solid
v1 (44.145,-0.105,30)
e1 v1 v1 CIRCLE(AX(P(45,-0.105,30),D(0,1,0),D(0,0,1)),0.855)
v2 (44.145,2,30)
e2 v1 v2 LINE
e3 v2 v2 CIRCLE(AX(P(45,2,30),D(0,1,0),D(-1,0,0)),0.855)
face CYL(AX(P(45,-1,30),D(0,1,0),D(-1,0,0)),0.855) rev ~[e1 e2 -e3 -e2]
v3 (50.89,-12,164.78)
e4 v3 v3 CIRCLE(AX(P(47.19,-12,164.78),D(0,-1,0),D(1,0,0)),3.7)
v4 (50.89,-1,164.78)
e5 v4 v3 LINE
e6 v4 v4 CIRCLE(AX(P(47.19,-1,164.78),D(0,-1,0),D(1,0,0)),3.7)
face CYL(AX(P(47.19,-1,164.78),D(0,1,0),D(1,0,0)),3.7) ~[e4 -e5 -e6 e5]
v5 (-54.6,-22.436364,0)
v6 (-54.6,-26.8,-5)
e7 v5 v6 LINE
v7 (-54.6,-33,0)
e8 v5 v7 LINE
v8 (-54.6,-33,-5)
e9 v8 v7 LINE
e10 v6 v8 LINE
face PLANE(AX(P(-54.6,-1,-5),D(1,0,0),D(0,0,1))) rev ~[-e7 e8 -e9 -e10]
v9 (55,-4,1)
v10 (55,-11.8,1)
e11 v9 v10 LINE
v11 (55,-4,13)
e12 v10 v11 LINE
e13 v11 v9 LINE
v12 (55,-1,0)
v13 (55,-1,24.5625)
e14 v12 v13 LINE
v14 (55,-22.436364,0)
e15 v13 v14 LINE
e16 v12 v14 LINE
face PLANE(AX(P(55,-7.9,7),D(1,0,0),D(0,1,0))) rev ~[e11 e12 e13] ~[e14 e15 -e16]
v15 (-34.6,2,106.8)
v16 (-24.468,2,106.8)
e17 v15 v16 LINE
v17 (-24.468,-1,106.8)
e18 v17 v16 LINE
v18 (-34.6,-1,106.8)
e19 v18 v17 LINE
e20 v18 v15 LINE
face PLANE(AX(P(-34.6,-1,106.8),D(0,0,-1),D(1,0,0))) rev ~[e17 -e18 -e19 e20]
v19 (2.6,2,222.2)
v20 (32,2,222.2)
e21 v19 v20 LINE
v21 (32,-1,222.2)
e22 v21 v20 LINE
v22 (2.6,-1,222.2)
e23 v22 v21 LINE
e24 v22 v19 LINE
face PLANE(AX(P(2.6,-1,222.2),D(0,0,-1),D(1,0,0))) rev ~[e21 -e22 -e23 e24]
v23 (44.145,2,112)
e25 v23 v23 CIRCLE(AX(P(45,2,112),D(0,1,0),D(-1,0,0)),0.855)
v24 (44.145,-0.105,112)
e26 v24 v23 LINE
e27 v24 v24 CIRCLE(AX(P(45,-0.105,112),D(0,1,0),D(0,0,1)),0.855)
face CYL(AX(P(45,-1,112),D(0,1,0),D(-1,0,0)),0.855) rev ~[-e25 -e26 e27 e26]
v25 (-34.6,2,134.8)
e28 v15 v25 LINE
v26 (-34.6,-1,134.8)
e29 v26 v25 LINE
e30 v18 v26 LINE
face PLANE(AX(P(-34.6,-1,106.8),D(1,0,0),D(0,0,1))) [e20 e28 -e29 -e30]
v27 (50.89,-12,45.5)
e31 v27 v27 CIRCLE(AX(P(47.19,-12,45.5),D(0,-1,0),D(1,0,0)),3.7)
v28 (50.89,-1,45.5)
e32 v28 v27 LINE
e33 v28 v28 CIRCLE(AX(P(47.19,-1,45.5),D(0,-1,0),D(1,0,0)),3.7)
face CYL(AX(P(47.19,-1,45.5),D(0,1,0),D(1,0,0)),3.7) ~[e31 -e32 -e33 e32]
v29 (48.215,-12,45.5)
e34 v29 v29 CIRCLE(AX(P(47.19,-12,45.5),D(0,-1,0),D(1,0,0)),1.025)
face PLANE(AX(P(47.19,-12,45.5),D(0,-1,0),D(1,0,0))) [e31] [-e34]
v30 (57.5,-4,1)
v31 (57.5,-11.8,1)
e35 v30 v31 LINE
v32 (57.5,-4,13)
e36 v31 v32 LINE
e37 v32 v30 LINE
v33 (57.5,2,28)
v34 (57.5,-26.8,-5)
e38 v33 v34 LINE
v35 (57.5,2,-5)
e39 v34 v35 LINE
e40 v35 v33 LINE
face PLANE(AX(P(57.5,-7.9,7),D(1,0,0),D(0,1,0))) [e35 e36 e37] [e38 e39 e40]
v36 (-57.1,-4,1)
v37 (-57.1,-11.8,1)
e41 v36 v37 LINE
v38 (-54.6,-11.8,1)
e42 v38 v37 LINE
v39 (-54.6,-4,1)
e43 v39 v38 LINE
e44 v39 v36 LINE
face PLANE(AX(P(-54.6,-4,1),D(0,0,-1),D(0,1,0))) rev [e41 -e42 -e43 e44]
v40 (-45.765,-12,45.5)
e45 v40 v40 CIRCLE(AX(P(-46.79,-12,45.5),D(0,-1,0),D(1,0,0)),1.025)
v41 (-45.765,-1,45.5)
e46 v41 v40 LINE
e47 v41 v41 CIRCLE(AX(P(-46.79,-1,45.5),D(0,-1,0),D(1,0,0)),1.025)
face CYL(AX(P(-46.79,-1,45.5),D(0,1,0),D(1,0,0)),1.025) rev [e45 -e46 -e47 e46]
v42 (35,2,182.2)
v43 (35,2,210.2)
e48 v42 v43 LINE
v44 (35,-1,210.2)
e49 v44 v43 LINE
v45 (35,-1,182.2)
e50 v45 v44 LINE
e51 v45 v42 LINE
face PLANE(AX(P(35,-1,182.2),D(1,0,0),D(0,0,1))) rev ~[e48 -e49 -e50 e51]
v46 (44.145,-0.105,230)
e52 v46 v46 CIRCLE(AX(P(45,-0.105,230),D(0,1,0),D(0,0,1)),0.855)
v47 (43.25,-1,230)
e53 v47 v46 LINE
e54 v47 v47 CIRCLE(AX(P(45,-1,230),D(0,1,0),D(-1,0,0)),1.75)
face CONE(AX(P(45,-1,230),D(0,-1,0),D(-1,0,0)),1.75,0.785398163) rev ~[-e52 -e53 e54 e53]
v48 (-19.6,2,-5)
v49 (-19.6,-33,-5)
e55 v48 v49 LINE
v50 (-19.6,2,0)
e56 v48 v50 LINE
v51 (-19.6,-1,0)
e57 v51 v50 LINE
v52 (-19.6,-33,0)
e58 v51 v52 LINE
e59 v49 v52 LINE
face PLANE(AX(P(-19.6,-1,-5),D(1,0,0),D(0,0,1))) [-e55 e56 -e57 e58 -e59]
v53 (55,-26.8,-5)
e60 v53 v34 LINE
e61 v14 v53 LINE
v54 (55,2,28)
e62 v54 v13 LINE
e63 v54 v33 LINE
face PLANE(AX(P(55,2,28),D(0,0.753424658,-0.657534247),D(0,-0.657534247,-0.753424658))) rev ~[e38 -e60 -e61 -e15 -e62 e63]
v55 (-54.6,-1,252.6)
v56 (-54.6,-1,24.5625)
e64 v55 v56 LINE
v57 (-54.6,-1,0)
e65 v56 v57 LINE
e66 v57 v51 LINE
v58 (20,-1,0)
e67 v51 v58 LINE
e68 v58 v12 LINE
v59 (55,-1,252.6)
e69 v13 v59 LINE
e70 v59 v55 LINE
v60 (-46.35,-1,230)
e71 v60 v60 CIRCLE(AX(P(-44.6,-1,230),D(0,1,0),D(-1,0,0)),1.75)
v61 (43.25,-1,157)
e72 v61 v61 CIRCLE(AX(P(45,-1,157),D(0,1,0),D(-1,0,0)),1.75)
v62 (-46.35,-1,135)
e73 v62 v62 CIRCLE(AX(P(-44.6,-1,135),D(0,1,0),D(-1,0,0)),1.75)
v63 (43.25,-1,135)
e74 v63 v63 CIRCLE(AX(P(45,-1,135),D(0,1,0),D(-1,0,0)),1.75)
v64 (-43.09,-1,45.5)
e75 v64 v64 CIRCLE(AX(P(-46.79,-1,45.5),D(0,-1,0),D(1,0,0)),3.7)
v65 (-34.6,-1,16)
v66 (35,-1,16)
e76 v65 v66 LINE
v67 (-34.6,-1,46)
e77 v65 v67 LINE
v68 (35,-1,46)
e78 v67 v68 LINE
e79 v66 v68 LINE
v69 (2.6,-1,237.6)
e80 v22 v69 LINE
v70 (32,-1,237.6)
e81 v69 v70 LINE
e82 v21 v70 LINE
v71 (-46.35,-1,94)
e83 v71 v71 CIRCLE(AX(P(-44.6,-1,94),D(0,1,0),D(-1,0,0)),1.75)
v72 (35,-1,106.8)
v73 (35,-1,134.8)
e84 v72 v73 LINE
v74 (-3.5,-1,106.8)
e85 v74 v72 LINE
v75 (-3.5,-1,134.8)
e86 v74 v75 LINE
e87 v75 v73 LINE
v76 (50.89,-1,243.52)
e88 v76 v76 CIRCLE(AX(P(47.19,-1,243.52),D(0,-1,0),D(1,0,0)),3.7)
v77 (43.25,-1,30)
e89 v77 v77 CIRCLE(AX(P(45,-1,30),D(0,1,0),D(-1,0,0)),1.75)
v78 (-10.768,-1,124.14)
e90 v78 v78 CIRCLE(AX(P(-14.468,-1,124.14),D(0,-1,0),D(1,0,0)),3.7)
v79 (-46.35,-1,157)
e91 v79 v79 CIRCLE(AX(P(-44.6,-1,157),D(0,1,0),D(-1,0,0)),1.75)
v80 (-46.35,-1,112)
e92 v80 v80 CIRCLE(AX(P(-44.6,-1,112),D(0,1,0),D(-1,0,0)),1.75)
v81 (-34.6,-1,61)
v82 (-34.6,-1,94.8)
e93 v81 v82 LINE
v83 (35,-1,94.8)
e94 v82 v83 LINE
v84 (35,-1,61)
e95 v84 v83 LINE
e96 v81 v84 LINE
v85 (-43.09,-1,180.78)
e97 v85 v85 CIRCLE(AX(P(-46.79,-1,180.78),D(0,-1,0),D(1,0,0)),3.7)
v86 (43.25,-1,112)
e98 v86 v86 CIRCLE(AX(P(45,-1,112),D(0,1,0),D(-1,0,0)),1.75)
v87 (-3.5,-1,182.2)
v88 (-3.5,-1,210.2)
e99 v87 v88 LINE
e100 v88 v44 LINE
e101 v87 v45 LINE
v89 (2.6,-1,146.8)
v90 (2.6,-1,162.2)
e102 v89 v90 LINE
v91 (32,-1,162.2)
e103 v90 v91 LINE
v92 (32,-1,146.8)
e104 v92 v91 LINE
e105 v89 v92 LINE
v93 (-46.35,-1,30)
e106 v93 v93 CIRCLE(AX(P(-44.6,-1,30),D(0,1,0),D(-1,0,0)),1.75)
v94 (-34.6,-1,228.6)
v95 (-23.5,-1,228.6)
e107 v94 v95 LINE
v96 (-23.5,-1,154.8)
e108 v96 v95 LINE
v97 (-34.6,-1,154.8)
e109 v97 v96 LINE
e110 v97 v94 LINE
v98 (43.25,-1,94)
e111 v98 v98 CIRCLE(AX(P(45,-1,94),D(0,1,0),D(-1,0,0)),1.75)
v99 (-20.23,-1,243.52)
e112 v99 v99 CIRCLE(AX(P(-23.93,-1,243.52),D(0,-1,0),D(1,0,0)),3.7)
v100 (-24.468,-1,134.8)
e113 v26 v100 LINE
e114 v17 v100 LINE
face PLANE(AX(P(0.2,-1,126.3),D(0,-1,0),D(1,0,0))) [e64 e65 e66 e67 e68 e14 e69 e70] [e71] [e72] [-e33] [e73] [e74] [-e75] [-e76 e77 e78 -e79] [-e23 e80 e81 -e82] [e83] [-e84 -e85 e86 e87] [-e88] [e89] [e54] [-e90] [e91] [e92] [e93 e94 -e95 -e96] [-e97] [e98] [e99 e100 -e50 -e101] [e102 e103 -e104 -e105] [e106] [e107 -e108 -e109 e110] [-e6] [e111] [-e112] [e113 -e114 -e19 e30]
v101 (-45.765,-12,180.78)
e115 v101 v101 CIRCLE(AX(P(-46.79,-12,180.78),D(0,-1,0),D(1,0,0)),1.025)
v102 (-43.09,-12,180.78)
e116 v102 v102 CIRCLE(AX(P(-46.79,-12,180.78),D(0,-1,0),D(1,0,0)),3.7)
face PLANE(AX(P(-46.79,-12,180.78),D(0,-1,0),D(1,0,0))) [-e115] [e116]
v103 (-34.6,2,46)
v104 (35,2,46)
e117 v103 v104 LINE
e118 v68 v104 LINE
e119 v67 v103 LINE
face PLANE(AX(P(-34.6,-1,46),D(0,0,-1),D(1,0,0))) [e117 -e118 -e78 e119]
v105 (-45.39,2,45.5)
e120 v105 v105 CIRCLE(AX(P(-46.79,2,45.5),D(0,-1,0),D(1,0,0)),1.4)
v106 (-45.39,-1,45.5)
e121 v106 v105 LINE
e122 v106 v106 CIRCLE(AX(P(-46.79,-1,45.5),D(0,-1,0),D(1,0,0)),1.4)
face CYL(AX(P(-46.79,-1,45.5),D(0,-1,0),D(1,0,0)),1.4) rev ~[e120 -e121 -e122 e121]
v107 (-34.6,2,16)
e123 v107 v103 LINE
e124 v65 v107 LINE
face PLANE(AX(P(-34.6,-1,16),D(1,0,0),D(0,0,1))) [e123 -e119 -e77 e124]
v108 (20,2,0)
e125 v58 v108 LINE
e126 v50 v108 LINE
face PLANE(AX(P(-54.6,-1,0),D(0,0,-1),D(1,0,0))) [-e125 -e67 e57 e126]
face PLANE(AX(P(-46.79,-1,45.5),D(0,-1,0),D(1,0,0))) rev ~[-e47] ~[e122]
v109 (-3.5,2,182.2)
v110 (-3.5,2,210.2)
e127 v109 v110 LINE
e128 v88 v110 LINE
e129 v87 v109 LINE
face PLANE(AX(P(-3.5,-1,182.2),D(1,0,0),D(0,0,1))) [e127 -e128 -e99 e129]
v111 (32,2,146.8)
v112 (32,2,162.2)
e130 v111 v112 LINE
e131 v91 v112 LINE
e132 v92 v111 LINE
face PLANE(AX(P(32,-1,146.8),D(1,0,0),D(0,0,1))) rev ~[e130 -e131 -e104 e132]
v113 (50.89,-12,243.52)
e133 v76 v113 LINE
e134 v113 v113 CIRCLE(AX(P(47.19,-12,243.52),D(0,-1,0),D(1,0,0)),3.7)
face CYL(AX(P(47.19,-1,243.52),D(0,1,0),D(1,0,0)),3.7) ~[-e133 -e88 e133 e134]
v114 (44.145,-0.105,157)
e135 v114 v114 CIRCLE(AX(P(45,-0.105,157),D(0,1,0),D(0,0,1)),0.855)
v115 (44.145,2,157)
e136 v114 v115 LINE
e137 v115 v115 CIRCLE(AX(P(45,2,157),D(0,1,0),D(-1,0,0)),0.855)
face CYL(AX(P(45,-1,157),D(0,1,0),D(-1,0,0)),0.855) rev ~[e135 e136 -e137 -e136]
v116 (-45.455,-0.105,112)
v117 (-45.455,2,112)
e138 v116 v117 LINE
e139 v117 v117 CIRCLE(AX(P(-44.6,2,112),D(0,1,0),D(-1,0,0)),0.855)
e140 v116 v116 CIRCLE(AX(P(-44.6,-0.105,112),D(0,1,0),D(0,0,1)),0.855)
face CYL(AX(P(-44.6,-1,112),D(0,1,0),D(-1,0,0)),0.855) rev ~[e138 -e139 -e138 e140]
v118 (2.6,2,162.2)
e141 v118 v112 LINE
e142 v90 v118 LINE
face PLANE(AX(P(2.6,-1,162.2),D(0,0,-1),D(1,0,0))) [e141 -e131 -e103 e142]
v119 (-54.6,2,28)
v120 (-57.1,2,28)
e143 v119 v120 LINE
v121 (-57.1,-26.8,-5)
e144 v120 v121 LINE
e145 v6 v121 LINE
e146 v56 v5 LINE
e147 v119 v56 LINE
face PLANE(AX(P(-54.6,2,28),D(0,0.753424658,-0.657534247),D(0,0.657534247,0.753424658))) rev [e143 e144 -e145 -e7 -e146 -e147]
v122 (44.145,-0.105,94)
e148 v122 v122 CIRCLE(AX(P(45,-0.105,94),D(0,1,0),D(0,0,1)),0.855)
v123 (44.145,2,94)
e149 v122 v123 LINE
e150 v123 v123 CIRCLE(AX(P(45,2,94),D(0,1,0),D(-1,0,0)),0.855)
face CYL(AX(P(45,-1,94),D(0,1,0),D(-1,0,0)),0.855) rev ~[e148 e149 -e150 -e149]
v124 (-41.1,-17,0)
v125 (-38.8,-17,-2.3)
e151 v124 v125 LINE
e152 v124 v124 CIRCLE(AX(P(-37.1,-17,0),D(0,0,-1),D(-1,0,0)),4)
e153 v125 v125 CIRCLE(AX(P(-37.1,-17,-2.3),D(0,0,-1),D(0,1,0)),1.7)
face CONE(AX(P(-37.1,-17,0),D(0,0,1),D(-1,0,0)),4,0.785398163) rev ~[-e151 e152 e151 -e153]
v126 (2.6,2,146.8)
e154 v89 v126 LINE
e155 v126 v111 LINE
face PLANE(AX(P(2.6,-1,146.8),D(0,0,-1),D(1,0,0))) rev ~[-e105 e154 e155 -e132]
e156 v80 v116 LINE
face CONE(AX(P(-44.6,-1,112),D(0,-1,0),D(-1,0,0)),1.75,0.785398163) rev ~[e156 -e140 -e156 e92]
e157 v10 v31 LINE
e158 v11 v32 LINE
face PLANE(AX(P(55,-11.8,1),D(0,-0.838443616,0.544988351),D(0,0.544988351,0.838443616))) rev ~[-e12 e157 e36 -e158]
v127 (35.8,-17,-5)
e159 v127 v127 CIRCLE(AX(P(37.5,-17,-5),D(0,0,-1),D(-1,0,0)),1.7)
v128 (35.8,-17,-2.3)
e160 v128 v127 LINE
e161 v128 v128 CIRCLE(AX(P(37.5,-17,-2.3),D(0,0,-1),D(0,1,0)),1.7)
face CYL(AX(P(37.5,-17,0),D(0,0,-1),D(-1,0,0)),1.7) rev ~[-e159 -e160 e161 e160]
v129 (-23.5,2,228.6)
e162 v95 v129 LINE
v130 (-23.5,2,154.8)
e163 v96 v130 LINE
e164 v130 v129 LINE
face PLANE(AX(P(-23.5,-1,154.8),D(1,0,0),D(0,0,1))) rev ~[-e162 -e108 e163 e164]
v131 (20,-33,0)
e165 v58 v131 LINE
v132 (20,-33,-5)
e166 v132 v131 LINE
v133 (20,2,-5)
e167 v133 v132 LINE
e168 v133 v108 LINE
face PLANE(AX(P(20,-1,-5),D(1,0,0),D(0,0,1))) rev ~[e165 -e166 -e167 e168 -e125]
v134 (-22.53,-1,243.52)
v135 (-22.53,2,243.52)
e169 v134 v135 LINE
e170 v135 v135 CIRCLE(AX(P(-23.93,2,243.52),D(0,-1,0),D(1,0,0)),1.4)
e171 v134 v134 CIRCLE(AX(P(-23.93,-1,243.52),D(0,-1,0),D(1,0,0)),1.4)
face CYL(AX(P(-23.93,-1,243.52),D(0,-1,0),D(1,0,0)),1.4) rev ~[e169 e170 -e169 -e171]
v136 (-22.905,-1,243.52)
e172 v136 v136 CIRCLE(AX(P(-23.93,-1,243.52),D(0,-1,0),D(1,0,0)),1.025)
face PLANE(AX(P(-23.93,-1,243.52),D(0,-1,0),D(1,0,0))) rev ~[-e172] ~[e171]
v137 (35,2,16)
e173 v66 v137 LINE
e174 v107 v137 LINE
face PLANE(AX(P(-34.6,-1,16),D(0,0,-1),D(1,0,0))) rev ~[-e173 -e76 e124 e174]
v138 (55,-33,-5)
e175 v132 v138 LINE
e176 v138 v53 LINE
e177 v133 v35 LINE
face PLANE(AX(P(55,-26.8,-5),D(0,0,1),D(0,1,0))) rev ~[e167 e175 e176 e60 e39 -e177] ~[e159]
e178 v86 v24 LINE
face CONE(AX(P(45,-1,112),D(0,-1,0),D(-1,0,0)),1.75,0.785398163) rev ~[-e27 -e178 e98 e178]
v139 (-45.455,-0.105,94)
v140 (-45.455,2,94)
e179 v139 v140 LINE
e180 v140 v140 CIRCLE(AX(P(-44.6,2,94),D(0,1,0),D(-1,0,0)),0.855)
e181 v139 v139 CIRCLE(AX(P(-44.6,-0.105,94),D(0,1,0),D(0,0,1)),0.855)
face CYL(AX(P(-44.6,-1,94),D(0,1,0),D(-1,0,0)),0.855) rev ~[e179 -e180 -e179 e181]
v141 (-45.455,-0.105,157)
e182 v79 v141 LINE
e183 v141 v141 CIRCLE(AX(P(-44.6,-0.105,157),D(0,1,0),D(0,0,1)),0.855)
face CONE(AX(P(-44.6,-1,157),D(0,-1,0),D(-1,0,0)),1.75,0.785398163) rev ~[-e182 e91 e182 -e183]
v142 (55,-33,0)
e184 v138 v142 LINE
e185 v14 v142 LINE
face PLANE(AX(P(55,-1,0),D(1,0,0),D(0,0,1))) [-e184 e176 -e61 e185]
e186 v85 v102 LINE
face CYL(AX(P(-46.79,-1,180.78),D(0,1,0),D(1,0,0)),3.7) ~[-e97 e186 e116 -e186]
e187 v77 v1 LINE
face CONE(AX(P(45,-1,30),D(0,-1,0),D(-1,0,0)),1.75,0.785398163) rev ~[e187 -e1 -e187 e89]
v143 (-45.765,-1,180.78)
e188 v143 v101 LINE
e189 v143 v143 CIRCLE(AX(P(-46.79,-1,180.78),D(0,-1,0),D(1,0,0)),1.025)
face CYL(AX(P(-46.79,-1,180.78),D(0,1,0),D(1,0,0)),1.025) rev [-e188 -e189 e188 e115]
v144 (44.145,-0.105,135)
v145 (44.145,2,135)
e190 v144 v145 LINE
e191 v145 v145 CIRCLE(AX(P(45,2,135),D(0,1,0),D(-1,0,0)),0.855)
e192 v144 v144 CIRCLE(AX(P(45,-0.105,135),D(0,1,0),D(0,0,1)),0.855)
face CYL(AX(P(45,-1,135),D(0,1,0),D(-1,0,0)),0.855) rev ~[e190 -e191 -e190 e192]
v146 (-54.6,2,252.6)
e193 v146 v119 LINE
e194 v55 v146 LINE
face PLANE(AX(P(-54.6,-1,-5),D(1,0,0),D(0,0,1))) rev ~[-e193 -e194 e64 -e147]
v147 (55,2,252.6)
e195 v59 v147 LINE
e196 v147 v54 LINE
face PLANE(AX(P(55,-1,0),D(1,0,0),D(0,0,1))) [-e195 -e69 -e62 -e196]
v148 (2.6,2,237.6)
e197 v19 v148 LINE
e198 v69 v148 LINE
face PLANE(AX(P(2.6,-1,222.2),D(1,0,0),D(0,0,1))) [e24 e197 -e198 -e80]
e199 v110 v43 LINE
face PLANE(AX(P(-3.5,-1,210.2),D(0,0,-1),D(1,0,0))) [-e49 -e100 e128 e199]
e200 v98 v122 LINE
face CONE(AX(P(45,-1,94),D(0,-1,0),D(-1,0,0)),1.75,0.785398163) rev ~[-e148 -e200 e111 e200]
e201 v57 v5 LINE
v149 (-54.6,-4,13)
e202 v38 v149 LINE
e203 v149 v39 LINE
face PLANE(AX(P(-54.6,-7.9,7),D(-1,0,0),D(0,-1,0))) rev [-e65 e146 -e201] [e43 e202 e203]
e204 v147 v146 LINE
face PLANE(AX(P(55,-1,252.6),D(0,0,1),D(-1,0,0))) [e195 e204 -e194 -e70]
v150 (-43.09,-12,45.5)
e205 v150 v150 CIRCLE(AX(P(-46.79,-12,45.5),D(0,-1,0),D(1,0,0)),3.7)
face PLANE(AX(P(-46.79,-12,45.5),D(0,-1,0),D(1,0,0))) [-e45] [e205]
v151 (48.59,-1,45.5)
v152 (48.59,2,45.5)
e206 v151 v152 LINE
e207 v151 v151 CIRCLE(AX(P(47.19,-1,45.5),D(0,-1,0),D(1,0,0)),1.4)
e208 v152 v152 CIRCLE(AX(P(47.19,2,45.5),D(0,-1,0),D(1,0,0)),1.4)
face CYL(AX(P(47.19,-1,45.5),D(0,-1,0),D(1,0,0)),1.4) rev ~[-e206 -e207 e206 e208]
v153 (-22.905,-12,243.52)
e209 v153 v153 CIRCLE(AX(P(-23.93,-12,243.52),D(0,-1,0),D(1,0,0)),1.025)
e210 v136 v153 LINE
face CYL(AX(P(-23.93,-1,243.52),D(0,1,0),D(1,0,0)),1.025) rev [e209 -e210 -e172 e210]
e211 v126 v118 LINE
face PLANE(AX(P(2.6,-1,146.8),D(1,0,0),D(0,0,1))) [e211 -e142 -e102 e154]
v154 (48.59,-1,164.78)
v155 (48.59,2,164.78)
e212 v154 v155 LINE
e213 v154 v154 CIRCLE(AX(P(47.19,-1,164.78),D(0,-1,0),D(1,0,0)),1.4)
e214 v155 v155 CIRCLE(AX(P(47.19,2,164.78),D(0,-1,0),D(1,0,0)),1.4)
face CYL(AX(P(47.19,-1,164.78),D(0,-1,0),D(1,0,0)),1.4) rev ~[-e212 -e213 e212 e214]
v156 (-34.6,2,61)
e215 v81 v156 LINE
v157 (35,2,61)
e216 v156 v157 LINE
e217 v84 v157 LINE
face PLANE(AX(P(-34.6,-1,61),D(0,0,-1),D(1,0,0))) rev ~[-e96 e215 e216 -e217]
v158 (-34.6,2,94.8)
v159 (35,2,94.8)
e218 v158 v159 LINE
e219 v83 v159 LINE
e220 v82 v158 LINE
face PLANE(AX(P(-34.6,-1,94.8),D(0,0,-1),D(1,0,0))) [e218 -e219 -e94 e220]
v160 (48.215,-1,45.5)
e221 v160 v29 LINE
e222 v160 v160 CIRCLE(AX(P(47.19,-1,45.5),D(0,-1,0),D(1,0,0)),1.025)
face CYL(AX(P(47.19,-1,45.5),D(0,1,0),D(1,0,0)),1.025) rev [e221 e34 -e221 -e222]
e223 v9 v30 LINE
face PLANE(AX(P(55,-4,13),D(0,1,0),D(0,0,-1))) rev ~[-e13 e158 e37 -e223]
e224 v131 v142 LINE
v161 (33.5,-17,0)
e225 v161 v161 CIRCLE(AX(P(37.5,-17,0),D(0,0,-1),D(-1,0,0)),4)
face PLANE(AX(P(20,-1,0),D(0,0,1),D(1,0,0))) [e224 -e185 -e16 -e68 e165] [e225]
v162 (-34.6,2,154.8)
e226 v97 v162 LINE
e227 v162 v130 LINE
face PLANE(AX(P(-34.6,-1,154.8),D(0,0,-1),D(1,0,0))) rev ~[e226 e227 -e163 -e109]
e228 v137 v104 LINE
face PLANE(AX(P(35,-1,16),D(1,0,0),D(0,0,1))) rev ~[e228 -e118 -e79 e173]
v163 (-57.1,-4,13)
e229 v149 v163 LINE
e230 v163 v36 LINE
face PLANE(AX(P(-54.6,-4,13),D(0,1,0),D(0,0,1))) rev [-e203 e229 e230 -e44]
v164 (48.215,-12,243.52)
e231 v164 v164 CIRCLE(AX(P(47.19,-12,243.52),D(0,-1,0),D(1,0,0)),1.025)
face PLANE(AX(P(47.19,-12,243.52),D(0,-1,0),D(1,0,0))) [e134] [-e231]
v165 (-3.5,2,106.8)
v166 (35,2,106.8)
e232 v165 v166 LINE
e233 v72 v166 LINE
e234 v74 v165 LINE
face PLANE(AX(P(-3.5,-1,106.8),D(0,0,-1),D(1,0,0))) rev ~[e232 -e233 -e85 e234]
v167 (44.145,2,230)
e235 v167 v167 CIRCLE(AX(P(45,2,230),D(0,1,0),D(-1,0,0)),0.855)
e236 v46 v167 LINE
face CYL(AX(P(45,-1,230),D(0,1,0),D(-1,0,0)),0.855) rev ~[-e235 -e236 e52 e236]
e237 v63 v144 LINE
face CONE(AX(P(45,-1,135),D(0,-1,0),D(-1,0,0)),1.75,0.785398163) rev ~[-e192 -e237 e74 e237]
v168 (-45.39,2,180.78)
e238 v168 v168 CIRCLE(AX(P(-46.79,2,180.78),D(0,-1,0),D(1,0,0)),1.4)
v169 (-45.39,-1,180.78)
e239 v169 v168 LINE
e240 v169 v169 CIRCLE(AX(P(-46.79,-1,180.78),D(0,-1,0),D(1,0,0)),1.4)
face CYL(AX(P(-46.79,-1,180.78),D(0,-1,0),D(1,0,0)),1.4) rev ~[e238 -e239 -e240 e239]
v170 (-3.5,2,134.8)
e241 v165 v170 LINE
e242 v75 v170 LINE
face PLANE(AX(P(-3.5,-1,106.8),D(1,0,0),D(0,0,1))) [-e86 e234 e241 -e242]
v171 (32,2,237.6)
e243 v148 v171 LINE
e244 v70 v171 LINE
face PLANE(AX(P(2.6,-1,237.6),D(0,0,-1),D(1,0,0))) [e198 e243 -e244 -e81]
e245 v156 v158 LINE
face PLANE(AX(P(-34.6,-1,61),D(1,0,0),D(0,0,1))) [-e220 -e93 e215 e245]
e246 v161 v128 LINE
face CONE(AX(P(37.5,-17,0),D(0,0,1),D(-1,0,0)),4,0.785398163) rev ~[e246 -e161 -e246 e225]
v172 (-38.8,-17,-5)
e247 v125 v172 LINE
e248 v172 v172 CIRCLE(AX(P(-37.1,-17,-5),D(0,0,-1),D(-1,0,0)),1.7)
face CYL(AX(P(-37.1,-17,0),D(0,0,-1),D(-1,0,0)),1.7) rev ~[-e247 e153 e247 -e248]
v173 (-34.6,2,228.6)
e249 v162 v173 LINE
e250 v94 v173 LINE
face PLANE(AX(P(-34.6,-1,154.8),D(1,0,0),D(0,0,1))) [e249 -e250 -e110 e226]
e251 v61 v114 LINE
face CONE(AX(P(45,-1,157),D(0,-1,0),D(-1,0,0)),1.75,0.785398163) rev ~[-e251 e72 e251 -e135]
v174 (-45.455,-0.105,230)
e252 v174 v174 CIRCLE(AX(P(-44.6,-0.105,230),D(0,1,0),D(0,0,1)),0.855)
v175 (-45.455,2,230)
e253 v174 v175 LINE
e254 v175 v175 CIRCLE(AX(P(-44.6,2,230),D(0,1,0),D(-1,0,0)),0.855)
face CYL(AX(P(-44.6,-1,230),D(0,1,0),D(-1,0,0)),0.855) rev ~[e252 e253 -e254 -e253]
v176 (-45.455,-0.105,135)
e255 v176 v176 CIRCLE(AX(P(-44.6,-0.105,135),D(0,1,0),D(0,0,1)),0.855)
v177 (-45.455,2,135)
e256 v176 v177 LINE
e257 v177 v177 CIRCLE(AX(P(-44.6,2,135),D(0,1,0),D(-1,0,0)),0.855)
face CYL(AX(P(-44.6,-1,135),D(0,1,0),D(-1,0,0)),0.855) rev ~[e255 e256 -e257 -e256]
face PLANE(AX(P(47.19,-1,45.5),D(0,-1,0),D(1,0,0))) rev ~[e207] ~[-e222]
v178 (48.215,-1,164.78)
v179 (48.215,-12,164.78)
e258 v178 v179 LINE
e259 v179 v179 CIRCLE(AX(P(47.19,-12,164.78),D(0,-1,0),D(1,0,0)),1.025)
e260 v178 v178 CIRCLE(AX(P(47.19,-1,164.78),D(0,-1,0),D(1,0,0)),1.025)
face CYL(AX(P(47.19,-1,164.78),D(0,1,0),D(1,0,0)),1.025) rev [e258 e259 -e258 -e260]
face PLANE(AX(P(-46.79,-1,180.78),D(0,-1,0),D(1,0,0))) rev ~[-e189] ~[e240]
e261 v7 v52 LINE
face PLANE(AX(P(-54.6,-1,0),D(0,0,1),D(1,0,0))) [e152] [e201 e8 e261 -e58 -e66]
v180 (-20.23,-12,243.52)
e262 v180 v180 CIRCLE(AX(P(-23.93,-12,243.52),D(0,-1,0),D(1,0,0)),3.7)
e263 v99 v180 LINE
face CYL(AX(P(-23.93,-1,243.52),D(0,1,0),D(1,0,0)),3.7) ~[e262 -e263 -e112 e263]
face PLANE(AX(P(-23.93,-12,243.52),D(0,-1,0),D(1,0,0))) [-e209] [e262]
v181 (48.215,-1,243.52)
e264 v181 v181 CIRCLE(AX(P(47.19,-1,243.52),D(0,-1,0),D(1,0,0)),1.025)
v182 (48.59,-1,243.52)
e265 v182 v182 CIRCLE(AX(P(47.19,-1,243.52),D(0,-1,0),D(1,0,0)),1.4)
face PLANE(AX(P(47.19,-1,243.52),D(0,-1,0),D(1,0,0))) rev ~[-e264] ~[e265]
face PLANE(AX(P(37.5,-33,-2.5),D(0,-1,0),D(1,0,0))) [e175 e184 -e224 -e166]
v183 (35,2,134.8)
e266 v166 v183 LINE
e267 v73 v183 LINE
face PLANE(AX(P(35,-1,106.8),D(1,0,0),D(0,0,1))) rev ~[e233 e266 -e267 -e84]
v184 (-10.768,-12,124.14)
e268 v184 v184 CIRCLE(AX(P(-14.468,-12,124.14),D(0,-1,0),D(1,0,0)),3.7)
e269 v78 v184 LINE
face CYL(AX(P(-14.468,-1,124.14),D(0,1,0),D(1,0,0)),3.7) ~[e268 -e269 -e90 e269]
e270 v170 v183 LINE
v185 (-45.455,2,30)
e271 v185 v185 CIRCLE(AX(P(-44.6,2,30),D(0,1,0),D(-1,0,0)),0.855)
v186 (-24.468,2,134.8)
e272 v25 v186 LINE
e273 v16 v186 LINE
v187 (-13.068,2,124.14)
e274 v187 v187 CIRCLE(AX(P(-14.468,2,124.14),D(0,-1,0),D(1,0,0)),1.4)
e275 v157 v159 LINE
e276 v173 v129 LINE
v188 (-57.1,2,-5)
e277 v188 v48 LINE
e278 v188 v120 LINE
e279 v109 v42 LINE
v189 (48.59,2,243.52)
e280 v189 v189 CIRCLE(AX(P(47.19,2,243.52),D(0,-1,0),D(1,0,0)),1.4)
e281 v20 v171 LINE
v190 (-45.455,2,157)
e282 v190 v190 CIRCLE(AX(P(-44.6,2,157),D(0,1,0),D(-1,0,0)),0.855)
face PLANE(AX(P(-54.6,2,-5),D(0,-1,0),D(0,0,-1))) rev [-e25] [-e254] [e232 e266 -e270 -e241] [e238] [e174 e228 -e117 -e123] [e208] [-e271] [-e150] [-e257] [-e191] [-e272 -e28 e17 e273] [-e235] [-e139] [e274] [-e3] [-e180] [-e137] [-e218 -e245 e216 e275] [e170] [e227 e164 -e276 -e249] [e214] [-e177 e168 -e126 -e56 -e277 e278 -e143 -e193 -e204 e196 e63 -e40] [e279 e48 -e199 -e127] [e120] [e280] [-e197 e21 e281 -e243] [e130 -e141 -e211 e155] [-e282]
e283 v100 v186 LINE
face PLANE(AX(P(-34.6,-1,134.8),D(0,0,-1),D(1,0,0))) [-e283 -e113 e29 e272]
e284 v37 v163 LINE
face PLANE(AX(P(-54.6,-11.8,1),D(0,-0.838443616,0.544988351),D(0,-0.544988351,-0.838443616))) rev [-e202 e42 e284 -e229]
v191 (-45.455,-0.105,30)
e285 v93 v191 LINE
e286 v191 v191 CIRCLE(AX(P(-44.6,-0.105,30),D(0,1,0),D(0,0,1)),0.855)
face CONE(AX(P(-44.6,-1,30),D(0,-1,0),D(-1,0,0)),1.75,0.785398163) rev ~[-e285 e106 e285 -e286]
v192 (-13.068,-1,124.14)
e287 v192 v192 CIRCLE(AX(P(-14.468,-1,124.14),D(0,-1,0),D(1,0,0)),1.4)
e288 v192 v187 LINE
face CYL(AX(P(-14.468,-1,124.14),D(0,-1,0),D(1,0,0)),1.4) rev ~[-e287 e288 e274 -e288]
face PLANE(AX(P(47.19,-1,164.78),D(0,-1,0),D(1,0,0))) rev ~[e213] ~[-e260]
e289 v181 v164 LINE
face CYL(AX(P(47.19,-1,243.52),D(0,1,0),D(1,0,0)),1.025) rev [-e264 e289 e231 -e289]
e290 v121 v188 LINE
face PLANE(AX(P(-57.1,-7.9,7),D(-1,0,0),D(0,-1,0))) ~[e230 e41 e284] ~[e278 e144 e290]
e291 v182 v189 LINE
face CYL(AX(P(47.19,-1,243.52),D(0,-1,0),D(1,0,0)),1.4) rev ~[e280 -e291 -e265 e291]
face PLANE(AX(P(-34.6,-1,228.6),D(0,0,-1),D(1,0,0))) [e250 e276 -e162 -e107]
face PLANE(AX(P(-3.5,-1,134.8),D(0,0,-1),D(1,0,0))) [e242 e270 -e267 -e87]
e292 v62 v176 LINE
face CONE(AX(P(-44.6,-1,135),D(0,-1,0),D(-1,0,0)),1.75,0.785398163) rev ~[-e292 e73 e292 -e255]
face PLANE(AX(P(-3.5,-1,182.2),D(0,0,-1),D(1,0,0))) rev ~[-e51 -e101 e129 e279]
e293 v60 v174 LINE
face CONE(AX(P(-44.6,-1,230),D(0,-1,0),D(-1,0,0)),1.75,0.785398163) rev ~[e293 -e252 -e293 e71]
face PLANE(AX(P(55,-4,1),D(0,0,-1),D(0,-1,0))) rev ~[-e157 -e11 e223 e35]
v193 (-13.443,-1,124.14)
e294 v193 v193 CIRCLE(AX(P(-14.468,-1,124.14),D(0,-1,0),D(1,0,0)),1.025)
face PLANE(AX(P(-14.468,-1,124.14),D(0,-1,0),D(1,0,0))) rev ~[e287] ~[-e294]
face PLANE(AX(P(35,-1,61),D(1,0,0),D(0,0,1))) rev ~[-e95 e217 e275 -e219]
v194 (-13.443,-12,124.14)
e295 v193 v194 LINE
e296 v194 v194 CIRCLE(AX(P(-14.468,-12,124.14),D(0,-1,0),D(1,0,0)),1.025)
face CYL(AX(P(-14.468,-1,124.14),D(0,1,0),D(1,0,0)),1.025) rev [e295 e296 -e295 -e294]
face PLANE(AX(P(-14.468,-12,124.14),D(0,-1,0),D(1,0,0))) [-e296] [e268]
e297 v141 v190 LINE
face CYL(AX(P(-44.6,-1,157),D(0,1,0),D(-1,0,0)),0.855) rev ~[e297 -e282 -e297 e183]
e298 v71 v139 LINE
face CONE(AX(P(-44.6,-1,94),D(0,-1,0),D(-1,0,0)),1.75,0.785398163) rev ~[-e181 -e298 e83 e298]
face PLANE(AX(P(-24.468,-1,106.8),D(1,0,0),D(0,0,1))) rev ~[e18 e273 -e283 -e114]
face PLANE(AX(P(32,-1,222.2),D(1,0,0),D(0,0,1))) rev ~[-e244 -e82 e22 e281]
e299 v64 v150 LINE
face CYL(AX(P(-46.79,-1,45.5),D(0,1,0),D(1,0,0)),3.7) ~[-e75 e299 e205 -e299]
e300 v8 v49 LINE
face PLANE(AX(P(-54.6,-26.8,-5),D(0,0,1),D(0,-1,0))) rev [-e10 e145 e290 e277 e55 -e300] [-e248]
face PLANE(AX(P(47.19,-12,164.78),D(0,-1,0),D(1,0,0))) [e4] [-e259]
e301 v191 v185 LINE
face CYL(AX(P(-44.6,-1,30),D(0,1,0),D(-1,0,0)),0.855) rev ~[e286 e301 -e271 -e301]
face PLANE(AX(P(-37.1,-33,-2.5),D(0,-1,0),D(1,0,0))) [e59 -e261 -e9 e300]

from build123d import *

# Parameters (mm, degrees)
SKETCH_R            = 1.4
SKETCH_W            = 29.4
SKETCH_H            = 15.4
SKETCH_W_2          = 38.5
SKETCH_H_2          = 28
SKETCH_W_3          = 11.1
SKETCH_H_3          = 73.8
SKETCH_W_4          = 10.132
SKETCH_W_5          = 69.6
SKETCH_H_4          = 33.8
SKETCH_H_5          = 30
PAD_DEPTH           = 3
SKETCH001_R         = 3.7
SKETCH001_R_2       = 1.025
PAD001_DEPTH        = 11
SKETCH002_W         = 35
SKETCH002_H         = 5
PAD002_DEPTH        = 32
PAD002_DEPTH_BACK   = 3
HOLE_D              = 3.4
HOLE_DEPTH          = 25
HOLE_CSINK_D        = 8
HOLE_CSINK_ANGLE    = 90
PAD003_DEPTH        = 2.5
HOLE002_D           = 1.71
HOLE002_DEPTH       = 25
HOLE002_CSINK_D     = 3.5
HOLE002_CSINK_ANGLE = 90


with BuildPart() as part:
    # Sketch → Pad (new body)
    with BuildSketch(Plane.XZ):
        Polygon((-54.8, 252.6), (-54.8, 16), (-54.8, 0), (54.8, 0), (54.8, 16), (54.8, 252.6), align=None)
        with Locations((-24.13, 243.52)):
            Circle(SKETCH_R, mode=Mode.SUBTRACT)
        with Locations((46.99, 243.52)):
            Circle(SKETCH_R, mode=Mode.SUBTRACT)
        with Locations((-46.99, 45.5)):
            Circle(SKETCH_R, mode=Mode.SUBTRACT)
        with Locations((46.99, 45.5)):
            Circle(SKETCH_R, mode=Mode.SUBTRACT)
        with Locations((-14.668, 124.14)):
            Circle(SKETCH_R, mode=Mode.SUBTRACT)
        with Locations((-46.99, 180.78)):
            Circle(SKETCH_R, mode=Mode.SUBTRACT)
        with Locations((46.99, 164.78)):
            Circle(SKETCH_R, mode=Mode.SUBTRACT)
        with Locations((17.1, 154.5)):
            Rectangle(SKETCH_W, SKETCH_H, mode=Mode.SUBTRACT)
        with Locations((15.55, 120.8)):
            Rectangle(SKETCH_W_2, SKETCH_H_2, mode=Mode.SUBTRACT)
        with Locations((17.1, 229.9)):
            Rectangle(SKETCH_W, SKETCH_H, mode=Mode.SUBTRACT)
        with Locations((15.55, 196.2)):
            Rectangle(SKETCH_W_2, SKETCH_H_2, mode=Mode.SUBTRACT)
        with Locations((-29.25, 191.7)):
            Rectangle(SKETCH_W_3, SKETCH_H_3, mode=Mode.SUBTRACT)
        with Locations((-29.734, 120.8)):
            Rectangle(SKETCH_W_4, SKETCH_H_2, mode=Mode.SUBTRACT)
        with Locations((0, 77.9)):
            Rectangle(SKETCH_W_5, SKETCH_H_4, mode=Mode.SUBTRACT)
        with Locations((0, 31)):
            Rectangle(SKETCH_W_5, SKETCH_H_5, mode=Mode.SUBTRACT)
    extrude(amount=-PAD_DEPTH)

    # Sketch001 → Pad001 (join)
    with BuildSketch(Plane.XZ):
        with Locations((-24.13, 243.52)):
            Circle(SKETCH001_R)
        with Locations((-24.13, 243.52)):
            Circle(SKETCH001_R_2, mode=Mode.SUBTRACT)
        with Locations((46.99, 243.52)):
            Circle(SKETCH001_R)
        with Locations((46.99, 243.52)):
            Circle(SKETCH001_R_2, mode=Mode.SUBTRACT)
        with Locations((-46.99, 180.78)):
            Circle(SKETCH001_R)
        with Locations((-46.99, 180.78)):
            Circle(SKETCH001_R_2, mode=Mode.SUBTRACT)
        with Locations((46.99, 164.78)):
            Circle(SKETCH001_R)
        with Locations((46.99, 164.78)):
            Circle(SKETCH001_R_2, mode=Mode.SUBTRACT)
        with Locations((-14.668, 124.14)):
            Circle(SKETCH001_R)
        with Locations((-14.668, 124.14)):
            Circle(SKETCH001_R_2, mode=Mode.SUBTRACT)
        with Locations((-46.99, 45.5)):
            Circle(SKETCH001_R)
        with Locations((-46.99, 45.5)):
            Circle(SKETCH001_R_2, mode=Mode.SUBTRACT)
        with Locations((46.99, 45.5)):
            Circle(SKETCH001_R)
        with Locations((46.99, 45.5)):
            Circle(SKETCH001_R_2, mode=Mode.SUBTRACT)
    extrude(amount=PAD001_DEPTH)

    # Sketch002 → Pad002 (join, two sides)
    with BuildSketch(Plane.XZ) as pad002_sk:
        with Locations((-37.3, -2.5)):
            Rectangle(SKETCH002_W, SKETCH002_H)
        with Locations((37.3, -2.5)):
            Rectangle(SKETCH002_W, SKETCH002_H)
    extrude(amount=PAD002_DEPTH)
    extrude(pad002_sk.sketch, amount=-PAD002_DEPTH_BACK)

    # Hole
    with Locations(Plane.XY):
        with Locations((-37.3, -16), (37.3, -16)):
            CounterSinkHole(HOLE_D / 2, HOLE_CSINK_D / 2, depth=HOLE_DEPTH, counter_sink_angle=HOLE_CSINK_ANGLE)

    # Sketch004 (on DatumPlane) → Pad003 (join)
    with BuildSketch(Plane.YZ.offset(54.8)):
        Polygon((-25.8, -5), (3, -5), (3, 28), align=None)
        Polygon((-10.8, 1), (-3, 13), (-3, 1), align=None, mode=Mode.SUBTRACT)
    pad003 = extrude(amount=PAD003_DEPTH)

    # Mirrored: Pad003 across YZ
    add(pad003.mirror(Plane.YZ))

    # Hole002
    with Locations(Plane.XZ):
        with Locations((44.8, 157), (-44.8, 135), (44.8, 135), (-44.8, 112), (-44.8, 94), (44.8, 112), (44.8, 94), (-44.8, 30), (44.8, 30), (-44.8, 157), (-44.8, 230), (44.8, 230)):
            CounterSinkHole(HOLE002_D / 2, HOLE002_CSINK_D / 2, depth=HOLE002_DEPTH, counter_sink_angle=HOLE002_CSINK_ANGLE)


with BuildPart() as part_1:
    # Body placement: moved
    add(part.part.moved(Location((0.2, -1, 0))))


solid = part_1.part
